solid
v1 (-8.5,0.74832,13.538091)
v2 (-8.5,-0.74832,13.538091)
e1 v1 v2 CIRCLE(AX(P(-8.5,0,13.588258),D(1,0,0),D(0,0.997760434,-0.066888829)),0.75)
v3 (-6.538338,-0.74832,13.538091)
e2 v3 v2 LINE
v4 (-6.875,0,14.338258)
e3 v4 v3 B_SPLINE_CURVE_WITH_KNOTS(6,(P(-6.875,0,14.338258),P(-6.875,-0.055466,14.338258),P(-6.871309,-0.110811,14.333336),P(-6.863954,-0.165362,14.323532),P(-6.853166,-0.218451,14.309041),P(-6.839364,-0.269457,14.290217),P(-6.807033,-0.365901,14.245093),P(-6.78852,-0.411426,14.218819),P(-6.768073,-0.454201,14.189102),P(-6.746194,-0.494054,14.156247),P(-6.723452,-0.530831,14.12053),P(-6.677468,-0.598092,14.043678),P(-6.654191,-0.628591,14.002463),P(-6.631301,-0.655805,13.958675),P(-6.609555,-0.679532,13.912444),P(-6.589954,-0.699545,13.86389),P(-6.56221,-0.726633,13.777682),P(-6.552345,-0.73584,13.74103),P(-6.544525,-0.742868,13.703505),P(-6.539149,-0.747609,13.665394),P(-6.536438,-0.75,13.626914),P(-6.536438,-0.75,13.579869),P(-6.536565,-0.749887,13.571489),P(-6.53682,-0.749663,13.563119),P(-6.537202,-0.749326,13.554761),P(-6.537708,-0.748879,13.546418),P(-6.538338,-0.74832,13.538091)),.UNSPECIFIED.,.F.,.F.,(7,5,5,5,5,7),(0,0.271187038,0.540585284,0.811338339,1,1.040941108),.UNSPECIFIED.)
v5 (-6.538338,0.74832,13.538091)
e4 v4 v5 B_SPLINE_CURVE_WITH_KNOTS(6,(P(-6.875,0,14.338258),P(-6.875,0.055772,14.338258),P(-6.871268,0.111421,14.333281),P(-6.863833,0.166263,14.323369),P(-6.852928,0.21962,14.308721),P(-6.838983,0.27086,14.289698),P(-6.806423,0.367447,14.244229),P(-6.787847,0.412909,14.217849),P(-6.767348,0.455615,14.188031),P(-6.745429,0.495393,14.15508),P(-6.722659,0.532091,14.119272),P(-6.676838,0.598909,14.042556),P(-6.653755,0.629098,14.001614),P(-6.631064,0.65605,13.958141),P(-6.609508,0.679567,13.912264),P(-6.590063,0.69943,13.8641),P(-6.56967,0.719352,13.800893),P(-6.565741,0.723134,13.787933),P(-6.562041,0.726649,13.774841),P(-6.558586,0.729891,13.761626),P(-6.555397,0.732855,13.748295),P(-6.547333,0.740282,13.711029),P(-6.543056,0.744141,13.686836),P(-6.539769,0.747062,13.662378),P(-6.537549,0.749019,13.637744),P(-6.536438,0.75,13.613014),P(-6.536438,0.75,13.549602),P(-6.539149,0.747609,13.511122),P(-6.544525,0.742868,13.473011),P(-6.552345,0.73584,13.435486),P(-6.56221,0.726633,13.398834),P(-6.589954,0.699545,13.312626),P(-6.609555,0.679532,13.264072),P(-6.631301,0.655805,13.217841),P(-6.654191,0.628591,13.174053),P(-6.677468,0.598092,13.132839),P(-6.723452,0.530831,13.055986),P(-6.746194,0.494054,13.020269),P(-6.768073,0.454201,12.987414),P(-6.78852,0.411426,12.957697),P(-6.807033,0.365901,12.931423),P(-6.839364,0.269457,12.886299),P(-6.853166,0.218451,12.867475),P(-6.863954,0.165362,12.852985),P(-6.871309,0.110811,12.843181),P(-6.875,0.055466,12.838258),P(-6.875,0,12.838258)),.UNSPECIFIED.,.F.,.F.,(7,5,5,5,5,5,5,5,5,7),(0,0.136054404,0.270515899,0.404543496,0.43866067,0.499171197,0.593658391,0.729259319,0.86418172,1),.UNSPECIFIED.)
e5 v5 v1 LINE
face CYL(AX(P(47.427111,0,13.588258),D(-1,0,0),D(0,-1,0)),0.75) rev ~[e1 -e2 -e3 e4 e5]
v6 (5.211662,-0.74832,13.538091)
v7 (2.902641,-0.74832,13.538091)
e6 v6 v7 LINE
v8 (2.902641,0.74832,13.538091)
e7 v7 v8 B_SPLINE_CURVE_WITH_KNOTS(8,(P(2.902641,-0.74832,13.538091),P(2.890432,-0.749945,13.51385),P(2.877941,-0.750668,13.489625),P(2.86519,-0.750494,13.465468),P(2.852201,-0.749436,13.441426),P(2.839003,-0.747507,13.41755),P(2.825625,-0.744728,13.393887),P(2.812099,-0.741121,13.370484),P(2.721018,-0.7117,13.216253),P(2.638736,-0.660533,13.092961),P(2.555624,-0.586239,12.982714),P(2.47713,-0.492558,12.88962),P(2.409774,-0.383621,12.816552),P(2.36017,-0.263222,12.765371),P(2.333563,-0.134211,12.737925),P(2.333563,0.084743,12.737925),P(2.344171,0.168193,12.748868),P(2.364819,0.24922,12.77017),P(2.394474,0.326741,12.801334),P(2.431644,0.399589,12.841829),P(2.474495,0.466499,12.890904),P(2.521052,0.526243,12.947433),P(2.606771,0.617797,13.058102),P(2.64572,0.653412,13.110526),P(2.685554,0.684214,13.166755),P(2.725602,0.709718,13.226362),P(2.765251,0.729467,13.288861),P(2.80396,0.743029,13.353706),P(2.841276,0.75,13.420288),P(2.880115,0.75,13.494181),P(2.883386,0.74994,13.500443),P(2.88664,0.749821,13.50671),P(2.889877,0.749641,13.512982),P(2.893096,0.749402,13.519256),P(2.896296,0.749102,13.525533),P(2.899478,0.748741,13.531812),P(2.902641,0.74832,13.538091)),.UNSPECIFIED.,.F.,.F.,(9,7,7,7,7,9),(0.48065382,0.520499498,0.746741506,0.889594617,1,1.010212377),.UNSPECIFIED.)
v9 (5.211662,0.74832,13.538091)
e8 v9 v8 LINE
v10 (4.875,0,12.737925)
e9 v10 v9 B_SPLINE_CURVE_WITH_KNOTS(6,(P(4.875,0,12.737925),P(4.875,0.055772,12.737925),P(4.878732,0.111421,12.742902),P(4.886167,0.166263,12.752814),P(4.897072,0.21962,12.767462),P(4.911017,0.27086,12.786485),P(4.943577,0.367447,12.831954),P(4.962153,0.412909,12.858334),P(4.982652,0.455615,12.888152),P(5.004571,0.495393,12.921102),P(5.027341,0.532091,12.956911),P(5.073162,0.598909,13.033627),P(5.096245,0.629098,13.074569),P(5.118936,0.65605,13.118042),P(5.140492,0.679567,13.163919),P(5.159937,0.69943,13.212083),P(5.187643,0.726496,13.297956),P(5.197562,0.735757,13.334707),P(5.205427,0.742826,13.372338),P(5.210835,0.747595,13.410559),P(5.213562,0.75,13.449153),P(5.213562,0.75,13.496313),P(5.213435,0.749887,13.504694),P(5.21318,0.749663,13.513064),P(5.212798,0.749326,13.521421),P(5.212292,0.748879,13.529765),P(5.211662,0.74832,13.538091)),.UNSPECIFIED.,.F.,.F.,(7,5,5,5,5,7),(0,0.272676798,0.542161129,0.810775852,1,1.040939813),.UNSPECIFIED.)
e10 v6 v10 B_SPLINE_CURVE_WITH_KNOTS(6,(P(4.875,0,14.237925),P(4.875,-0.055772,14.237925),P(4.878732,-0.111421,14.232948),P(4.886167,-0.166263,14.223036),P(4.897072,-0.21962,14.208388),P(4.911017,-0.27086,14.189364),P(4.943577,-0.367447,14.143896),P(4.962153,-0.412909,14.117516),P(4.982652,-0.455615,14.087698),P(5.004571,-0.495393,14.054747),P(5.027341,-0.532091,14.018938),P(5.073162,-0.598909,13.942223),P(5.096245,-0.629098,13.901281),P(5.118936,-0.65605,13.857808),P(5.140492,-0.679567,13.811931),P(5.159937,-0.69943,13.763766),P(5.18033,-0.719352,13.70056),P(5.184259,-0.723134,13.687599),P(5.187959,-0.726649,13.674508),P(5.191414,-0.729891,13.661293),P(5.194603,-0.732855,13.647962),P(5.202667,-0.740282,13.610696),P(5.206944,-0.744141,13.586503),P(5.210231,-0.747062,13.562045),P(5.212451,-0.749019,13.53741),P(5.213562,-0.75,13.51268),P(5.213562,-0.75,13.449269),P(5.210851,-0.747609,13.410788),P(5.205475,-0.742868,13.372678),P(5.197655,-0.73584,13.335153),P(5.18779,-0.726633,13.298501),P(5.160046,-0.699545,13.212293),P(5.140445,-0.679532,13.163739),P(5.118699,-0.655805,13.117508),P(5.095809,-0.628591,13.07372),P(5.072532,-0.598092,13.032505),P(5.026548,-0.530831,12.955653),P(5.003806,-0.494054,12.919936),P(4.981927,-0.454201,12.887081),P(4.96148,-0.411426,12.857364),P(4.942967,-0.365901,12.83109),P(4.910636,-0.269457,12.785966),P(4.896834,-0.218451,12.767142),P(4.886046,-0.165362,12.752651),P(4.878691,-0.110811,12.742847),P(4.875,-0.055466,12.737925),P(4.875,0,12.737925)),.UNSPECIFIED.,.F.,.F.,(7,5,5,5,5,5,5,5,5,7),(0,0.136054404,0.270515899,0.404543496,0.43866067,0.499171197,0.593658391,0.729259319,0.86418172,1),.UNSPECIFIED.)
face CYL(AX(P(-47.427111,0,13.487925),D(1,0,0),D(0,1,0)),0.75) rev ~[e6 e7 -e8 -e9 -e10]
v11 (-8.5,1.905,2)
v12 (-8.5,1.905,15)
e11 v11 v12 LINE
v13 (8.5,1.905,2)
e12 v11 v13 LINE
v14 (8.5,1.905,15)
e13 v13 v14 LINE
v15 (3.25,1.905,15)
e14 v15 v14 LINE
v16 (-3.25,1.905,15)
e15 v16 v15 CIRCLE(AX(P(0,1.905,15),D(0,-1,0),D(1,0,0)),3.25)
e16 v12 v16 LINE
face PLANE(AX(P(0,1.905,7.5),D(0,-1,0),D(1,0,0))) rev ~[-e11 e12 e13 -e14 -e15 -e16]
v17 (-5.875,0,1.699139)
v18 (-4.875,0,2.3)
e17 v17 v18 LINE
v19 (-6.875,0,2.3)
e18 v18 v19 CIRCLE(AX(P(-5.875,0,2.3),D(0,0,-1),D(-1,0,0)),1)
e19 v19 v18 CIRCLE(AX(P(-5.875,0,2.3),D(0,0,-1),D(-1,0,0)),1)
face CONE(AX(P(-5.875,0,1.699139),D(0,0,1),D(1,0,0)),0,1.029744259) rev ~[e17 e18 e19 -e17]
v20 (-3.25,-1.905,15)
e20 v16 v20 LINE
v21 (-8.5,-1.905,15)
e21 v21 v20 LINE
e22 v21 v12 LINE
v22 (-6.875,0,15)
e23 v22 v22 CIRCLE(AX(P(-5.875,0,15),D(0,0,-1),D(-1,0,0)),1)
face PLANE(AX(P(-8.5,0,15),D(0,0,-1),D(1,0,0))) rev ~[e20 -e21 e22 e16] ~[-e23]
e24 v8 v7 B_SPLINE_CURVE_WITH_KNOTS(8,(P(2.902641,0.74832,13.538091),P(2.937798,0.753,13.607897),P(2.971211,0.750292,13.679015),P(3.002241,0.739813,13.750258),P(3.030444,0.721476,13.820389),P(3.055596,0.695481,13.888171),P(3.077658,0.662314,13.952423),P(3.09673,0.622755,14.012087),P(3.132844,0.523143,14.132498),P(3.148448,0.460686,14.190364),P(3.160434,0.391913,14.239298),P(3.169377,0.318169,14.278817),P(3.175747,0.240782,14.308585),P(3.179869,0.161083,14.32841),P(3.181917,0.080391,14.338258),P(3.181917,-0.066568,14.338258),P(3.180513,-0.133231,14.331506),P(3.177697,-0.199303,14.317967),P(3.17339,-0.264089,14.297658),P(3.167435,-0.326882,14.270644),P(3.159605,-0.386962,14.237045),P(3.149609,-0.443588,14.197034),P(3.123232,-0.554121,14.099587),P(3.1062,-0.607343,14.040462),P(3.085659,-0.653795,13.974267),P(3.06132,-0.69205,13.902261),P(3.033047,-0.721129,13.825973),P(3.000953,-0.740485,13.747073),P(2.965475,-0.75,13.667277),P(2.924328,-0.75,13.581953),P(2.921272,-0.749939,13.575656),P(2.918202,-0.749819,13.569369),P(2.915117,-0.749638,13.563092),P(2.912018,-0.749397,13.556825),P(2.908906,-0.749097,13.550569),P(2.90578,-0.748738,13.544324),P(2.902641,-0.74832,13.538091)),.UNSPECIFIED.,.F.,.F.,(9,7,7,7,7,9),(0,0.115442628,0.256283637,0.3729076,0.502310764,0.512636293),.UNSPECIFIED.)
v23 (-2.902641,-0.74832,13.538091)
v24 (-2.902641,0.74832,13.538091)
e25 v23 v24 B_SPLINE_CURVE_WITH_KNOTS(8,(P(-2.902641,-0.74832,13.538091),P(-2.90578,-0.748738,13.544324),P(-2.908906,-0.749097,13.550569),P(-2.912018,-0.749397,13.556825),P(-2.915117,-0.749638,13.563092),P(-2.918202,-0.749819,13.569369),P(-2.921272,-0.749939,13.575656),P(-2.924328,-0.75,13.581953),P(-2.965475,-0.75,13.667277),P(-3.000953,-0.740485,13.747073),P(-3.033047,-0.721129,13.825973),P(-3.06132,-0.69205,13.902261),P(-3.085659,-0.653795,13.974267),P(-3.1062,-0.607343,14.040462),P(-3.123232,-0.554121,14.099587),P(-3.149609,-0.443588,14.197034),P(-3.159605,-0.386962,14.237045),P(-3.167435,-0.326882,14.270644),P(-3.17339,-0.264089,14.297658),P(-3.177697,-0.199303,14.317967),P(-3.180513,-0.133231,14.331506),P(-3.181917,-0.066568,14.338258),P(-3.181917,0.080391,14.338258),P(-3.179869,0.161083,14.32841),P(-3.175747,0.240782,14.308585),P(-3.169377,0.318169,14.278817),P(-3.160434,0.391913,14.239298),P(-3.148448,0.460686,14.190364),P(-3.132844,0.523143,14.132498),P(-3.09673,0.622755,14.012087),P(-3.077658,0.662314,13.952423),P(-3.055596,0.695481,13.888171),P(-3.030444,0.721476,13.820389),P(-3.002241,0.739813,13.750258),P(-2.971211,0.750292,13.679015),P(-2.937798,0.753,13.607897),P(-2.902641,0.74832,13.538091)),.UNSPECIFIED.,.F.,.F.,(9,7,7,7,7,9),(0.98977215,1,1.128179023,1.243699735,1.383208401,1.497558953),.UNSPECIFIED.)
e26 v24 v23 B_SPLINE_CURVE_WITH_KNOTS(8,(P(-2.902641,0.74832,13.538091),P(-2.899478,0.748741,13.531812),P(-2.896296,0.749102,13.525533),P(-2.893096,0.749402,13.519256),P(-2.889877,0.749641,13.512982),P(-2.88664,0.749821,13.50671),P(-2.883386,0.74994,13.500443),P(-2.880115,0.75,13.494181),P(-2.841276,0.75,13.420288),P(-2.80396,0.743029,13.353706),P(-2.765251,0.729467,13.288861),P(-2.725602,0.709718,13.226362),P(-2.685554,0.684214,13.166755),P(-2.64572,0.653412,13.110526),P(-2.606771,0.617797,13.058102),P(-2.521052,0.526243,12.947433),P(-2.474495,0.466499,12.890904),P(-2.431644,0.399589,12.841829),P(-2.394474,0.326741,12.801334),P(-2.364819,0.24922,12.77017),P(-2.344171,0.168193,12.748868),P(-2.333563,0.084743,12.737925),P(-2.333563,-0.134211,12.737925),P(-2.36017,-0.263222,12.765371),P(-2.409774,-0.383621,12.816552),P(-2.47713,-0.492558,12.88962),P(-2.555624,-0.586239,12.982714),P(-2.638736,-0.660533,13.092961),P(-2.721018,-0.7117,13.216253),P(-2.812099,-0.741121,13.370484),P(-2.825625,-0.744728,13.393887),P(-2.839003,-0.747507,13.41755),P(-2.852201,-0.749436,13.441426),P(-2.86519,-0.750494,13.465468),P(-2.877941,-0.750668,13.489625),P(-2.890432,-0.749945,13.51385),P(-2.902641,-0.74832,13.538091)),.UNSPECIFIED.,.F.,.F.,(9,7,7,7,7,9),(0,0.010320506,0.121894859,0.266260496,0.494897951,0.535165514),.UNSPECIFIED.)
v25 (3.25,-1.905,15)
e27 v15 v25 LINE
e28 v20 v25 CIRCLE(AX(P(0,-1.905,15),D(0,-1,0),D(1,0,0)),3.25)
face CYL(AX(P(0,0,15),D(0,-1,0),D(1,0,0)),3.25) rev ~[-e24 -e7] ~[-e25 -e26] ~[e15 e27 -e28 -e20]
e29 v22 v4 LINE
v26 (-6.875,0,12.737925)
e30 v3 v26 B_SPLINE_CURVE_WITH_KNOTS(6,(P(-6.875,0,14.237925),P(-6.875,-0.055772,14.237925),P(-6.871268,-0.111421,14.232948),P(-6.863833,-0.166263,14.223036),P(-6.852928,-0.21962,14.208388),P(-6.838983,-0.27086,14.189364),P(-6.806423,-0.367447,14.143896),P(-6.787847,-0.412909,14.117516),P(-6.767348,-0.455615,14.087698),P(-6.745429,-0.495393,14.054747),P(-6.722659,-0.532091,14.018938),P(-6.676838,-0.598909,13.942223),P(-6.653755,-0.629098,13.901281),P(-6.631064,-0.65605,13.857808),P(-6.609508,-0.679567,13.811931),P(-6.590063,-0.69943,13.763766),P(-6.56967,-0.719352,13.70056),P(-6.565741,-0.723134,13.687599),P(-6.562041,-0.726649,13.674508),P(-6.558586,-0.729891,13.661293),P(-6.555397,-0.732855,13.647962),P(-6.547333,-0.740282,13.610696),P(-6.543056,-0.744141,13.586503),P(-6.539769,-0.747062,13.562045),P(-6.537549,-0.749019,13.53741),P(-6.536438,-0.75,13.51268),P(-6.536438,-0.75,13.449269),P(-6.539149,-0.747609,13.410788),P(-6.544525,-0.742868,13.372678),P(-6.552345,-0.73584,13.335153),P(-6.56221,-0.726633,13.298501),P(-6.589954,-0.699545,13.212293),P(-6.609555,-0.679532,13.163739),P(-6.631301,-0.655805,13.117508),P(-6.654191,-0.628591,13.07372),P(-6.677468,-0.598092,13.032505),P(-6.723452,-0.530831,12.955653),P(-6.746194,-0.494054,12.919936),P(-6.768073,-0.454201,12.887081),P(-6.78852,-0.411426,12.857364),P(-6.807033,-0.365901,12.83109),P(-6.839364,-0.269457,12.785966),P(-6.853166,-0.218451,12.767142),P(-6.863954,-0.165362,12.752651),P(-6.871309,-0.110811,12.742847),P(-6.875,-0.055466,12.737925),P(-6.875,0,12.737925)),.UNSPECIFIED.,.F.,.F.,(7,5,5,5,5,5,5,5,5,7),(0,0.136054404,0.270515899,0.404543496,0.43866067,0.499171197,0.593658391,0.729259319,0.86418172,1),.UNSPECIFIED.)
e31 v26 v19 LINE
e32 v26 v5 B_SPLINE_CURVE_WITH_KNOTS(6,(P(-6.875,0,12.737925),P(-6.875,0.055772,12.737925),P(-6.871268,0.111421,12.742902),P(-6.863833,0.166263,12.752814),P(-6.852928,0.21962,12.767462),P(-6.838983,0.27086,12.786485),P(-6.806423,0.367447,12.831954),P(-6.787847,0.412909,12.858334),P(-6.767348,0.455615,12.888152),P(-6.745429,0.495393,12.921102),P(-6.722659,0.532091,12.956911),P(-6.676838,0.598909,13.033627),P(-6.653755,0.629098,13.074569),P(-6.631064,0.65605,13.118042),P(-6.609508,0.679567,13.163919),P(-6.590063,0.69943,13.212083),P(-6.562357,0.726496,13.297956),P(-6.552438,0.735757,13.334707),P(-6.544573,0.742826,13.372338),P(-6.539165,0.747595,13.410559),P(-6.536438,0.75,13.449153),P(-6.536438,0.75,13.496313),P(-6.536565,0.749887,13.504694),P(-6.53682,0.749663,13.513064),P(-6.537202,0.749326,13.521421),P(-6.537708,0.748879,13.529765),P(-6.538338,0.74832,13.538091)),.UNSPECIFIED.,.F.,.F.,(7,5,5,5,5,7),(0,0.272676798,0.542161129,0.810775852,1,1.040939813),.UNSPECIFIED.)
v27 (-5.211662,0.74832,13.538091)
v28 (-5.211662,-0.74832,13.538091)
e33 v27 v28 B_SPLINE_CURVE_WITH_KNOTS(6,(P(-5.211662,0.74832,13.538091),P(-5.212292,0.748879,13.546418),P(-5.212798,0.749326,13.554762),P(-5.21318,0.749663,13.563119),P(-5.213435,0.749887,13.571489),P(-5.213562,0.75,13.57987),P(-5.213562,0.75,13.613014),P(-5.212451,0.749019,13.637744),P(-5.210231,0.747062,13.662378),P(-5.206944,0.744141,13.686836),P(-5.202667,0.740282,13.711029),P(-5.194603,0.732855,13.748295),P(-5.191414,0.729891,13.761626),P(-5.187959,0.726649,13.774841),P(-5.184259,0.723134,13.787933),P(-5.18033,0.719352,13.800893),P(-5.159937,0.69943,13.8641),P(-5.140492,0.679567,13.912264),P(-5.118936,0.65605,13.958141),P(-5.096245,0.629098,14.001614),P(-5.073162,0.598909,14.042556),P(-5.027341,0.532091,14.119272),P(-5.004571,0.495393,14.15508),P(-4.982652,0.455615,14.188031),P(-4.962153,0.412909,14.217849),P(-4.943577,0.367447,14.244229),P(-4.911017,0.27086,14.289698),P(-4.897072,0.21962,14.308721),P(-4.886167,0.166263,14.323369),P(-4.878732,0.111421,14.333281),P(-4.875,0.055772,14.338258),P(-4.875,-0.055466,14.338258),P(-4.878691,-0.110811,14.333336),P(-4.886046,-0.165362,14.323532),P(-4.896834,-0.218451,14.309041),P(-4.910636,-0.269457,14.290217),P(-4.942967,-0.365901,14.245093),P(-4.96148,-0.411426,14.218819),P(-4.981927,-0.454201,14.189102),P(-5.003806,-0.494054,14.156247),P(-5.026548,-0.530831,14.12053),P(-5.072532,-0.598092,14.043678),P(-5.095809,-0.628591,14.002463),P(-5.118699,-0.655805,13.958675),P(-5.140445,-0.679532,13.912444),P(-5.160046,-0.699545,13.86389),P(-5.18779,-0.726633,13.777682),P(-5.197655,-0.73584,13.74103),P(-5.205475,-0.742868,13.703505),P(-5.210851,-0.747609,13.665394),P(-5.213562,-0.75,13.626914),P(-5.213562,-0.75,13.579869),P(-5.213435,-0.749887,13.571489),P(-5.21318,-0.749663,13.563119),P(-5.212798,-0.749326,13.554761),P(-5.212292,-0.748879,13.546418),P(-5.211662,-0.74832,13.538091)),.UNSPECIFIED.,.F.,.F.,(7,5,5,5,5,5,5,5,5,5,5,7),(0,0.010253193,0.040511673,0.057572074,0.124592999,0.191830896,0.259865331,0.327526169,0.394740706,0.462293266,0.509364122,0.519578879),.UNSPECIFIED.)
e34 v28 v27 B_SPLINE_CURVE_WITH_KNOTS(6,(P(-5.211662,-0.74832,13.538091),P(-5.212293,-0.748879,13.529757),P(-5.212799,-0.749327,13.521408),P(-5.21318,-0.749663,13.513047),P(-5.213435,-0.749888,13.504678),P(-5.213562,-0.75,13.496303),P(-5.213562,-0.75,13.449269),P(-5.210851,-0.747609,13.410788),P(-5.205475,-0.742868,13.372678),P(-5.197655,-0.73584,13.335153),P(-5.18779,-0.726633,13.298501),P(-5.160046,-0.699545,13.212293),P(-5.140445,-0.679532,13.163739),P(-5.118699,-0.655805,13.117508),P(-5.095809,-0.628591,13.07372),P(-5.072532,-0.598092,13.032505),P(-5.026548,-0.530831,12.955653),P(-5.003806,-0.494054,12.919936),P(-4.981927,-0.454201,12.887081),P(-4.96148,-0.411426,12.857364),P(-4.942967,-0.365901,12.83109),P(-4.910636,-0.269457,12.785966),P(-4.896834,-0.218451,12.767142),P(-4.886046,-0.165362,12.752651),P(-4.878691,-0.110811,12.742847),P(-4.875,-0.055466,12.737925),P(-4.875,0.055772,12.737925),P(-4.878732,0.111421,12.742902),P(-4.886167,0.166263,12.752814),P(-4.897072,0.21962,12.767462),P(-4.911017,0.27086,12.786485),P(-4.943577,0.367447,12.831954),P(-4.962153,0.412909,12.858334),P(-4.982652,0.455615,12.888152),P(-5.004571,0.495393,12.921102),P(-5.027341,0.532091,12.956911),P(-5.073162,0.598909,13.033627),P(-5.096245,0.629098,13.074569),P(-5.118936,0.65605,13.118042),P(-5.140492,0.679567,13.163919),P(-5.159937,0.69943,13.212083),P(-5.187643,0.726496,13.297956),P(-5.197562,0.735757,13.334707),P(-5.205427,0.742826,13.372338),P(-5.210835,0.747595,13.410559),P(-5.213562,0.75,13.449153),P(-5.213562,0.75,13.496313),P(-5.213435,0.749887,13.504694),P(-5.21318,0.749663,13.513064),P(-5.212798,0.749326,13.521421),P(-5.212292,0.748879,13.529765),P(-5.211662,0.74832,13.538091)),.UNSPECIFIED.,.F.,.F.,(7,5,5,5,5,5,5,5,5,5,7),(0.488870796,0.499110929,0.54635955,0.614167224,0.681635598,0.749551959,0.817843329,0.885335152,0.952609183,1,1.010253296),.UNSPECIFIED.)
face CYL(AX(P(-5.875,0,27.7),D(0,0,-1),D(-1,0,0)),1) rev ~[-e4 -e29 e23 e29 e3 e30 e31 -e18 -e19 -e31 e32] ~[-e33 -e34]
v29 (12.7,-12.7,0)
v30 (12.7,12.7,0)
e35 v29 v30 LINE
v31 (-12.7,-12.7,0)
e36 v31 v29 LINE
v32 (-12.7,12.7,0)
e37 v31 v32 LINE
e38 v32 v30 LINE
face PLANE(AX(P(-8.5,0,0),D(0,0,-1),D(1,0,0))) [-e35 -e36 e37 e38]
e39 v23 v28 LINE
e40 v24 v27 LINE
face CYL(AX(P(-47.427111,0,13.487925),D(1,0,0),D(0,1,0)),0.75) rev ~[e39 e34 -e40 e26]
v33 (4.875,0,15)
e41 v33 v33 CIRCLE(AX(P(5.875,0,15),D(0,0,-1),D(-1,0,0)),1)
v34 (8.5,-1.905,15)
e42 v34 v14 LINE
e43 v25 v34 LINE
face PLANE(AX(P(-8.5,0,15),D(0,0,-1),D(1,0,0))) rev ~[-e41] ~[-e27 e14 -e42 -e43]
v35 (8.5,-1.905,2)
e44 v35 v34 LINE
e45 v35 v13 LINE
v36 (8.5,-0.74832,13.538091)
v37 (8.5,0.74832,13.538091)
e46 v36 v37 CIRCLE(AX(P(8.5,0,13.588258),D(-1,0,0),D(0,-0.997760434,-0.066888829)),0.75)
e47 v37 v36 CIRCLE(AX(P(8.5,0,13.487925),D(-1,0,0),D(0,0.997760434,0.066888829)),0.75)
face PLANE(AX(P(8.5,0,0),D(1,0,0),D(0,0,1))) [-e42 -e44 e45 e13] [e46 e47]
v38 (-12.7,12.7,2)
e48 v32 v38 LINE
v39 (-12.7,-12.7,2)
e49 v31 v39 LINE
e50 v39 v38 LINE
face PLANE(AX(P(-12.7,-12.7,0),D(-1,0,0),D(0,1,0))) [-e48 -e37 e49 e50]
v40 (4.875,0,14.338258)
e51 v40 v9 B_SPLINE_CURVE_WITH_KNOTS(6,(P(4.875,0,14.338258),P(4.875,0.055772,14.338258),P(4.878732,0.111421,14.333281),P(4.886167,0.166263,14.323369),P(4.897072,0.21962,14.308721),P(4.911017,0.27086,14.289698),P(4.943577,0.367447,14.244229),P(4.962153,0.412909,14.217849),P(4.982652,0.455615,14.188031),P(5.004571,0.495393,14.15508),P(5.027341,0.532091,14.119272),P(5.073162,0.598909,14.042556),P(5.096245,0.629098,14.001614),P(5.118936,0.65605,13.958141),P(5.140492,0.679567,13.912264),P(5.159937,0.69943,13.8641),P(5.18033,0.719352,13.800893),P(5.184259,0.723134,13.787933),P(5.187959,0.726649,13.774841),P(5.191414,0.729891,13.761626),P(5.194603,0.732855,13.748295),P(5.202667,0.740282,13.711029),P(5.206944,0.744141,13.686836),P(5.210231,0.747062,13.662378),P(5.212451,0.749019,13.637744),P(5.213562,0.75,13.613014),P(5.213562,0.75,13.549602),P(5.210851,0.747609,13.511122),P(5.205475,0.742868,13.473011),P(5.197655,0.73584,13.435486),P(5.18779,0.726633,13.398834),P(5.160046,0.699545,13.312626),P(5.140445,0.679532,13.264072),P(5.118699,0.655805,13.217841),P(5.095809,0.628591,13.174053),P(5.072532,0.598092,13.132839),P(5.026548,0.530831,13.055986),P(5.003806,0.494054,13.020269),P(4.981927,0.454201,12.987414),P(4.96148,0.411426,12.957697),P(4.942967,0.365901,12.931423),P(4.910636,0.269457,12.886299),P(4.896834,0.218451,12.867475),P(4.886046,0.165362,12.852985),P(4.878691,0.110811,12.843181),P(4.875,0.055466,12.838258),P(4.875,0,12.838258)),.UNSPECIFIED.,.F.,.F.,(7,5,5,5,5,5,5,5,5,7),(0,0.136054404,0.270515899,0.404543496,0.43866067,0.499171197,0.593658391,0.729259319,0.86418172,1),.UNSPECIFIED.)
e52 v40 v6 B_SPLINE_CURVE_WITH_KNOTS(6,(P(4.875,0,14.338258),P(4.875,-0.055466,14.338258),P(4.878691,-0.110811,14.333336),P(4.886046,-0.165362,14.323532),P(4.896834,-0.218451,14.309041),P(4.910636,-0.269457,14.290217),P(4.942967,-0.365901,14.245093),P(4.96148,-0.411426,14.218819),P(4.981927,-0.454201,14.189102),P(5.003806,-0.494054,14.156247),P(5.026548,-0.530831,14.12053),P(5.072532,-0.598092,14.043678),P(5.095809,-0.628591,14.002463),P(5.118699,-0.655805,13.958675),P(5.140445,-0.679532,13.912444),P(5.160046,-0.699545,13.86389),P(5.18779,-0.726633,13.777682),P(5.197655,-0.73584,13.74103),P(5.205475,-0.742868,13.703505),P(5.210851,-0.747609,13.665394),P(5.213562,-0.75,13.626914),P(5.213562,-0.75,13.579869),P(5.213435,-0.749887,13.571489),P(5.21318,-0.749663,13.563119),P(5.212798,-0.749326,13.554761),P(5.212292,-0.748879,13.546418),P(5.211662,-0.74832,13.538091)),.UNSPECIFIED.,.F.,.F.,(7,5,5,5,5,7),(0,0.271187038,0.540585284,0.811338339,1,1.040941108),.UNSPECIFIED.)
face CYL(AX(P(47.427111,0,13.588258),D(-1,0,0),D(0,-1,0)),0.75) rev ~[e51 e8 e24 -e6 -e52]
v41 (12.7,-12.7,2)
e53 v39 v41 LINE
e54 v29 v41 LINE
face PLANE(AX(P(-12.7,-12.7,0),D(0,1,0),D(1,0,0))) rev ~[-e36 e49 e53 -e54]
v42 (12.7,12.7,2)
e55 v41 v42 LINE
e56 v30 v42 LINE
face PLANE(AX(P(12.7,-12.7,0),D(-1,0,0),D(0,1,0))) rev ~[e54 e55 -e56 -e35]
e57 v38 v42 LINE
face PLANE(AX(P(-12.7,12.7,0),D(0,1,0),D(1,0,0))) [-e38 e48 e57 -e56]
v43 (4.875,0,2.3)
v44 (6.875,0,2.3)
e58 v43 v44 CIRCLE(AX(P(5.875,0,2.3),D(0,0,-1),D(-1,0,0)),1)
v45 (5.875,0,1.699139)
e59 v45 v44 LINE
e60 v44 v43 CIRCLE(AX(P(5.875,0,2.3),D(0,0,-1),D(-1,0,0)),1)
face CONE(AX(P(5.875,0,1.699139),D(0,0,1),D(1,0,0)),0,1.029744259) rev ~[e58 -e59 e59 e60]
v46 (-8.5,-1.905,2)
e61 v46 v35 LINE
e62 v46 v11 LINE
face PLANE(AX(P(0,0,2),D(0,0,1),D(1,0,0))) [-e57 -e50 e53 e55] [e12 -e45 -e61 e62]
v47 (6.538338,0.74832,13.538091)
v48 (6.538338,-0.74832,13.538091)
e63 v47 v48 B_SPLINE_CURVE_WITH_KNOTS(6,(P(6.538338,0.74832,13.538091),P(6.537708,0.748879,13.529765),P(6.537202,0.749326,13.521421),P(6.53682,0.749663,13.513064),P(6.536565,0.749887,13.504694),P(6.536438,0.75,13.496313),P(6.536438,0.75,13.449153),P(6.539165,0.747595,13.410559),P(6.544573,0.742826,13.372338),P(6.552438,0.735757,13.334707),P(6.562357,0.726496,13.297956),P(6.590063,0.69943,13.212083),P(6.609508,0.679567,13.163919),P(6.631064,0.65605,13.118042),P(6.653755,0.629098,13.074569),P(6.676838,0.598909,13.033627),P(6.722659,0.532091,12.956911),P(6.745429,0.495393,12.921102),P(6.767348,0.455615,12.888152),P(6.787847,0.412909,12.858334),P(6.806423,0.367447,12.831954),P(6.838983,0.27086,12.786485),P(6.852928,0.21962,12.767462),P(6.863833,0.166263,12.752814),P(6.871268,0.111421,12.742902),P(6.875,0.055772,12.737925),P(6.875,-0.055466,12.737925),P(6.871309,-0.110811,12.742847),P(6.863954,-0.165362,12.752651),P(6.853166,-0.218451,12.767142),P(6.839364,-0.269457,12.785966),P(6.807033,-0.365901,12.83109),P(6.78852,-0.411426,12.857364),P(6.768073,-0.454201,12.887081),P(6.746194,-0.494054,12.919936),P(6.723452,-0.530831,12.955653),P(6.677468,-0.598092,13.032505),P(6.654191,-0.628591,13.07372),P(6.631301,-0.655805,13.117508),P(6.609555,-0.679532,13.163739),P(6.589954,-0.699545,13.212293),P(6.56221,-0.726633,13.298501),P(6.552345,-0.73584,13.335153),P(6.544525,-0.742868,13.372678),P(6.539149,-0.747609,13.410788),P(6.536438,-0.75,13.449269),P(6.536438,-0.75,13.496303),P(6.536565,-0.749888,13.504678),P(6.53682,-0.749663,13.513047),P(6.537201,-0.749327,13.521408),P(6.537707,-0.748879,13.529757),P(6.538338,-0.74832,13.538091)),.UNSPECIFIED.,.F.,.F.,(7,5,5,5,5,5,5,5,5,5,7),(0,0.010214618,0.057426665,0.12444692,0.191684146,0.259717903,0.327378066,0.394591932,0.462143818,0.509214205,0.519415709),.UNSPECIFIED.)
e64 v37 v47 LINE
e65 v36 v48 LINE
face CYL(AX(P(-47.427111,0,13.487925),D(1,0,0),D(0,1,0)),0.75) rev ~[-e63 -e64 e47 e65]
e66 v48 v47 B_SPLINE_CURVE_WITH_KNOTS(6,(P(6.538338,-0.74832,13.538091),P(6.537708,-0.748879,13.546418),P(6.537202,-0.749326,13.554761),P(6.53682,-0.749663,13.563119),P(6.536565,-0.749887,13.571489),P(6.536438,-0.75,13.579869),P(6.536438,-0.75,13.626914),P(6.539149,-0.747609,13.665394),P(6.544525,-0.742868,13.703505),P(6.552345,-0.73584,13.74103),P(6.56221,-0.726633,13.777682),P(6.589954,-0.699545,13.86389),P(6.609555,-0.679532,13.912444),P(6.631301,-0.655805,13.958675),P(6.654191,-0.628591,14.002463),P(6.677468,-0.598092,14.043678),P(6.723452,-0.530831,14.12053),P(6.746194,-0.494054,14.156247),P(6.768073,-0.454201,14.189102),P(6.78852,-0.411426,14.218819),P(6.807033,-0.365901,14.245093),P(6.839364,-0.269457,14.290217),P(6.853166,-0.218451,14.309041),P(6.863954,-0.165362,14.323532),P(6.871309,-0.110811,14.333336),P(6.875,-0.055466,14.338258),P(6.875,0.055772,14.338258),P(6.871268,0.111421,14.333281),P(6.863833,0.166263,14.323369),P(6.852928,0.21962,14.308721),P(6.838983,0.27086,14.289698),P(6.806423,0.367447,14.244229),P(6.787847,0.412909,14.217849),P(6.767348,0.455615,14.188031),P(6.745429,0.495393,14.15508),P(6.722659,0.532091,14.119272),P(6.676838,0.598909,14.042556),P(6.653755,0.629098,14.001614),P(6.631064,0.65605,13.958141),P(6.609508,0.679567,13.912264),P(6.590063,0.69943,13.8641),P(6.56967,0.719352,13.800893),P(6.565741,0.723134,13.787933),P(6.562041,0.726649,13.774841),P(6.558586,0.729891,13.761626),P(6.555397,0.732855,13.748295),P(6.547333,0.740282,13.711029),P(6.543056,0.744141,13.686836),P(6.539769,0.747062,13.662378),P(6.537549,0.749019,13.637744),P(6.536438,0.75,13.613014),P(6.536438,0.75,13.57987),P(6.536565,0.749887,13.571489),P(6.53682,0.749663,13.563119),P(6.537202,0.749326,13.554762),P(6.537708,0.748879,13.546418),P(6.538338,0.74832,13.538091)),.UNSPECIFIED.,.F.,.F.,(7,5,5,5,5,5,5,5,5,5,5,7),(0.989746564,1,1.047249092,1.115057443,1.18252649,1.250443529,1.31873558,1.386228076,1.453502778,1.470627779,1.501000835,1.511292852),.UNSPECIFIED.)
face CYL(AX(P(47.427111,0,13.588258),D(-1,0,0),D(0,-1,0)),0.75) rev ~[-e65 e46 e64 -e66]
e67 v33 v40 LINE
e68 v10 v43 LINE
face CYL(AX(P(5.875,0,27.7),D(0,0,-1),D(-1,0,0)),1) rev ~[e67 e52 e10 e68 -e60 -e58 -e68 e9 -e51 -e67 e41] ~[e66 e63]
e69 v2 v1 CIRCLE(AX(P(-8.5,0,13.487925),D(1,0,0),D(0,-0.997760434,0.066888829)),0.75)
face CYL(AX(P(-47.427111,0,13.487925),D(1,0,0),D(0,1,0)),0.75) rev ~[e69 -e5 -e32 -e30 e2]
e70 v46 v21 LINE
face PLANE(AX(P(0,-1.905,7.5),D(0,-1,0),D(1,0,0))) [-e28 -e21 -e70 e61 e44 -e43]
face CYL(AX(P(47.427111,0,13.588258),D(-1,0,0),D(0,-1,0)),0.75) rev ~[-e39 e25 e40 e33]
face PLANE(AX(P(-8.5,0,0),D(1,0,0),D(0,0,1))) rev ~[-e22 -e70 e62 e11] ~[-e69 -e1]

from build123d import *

# Parameters (mm, degrees)
F0_W        = 25.4
F0_H        = 25.4
F1_DEPTH    = 2
F2_W        = 17
F2_H        = 15
F3_DEPTH    = 1.905
F4_R        = 3.25
F5_DEPTH    = 2.6162
F7_D        = 2
F7_DEPTH    = 12.7
F7_TIP      = 0.600860619
F10_D       = 1.5
F10_ON_F8_D = 1.5


with BuildPart() as f1:
    # F0 (on Top) → F1 (new body)
    with BuildSketch(Plane.XY):
        Rectangle(F0_W, F0_H)
    extrude(amount=F1_DEPTH)

    # F2 (on Front) → F3 (join, symmetric)
    with BuildSketch(Plane.XZ):
        with Locations((0, 7.5)):
            Rectangle(F2_W, F2_H)
    extrude(amount=F3_DEPTH, both=True)

    # F4 (on Front) → F5 (cut, symmetric)
    with BuildSketch(Plane.XZ):
        with Locations((0, 15)):
            Circle(F4_R)
    extrude(amount=F5_DEPTH, both=True, mode=Mode.SUBTRACT)

    # F7
    with Locations(Plane.XY.offset(15)):
        with Locations((5.875, 0), (-5.875, 0)):
            Hole(F7_D / 2, depth=F7_DEPTH)
            with Locations((0, 0, -(F7_DEPTH + F7_TIP / 2))):  # 118° drill point
                Cone(0, F7_D / 2, F7_TIP, mode=Mode.SUBTRACT)

    # F10 (through all)
    with Locations(Plane.YZ.offset(8.5)):
        with Locations((0, 13.5882580653)):
            Hole(F10_D / 2)

    # F10 on F8 (through all)
    with Locations(Plane(origin=(-8.5, 0, 0), x_dir=(0, -1, 0), z_dir=(-1, 0, 0))):
        with Locations((0, 13.4879248217)):
            Hole(F10_ON_F8_D / 2)


solid = f1.part
